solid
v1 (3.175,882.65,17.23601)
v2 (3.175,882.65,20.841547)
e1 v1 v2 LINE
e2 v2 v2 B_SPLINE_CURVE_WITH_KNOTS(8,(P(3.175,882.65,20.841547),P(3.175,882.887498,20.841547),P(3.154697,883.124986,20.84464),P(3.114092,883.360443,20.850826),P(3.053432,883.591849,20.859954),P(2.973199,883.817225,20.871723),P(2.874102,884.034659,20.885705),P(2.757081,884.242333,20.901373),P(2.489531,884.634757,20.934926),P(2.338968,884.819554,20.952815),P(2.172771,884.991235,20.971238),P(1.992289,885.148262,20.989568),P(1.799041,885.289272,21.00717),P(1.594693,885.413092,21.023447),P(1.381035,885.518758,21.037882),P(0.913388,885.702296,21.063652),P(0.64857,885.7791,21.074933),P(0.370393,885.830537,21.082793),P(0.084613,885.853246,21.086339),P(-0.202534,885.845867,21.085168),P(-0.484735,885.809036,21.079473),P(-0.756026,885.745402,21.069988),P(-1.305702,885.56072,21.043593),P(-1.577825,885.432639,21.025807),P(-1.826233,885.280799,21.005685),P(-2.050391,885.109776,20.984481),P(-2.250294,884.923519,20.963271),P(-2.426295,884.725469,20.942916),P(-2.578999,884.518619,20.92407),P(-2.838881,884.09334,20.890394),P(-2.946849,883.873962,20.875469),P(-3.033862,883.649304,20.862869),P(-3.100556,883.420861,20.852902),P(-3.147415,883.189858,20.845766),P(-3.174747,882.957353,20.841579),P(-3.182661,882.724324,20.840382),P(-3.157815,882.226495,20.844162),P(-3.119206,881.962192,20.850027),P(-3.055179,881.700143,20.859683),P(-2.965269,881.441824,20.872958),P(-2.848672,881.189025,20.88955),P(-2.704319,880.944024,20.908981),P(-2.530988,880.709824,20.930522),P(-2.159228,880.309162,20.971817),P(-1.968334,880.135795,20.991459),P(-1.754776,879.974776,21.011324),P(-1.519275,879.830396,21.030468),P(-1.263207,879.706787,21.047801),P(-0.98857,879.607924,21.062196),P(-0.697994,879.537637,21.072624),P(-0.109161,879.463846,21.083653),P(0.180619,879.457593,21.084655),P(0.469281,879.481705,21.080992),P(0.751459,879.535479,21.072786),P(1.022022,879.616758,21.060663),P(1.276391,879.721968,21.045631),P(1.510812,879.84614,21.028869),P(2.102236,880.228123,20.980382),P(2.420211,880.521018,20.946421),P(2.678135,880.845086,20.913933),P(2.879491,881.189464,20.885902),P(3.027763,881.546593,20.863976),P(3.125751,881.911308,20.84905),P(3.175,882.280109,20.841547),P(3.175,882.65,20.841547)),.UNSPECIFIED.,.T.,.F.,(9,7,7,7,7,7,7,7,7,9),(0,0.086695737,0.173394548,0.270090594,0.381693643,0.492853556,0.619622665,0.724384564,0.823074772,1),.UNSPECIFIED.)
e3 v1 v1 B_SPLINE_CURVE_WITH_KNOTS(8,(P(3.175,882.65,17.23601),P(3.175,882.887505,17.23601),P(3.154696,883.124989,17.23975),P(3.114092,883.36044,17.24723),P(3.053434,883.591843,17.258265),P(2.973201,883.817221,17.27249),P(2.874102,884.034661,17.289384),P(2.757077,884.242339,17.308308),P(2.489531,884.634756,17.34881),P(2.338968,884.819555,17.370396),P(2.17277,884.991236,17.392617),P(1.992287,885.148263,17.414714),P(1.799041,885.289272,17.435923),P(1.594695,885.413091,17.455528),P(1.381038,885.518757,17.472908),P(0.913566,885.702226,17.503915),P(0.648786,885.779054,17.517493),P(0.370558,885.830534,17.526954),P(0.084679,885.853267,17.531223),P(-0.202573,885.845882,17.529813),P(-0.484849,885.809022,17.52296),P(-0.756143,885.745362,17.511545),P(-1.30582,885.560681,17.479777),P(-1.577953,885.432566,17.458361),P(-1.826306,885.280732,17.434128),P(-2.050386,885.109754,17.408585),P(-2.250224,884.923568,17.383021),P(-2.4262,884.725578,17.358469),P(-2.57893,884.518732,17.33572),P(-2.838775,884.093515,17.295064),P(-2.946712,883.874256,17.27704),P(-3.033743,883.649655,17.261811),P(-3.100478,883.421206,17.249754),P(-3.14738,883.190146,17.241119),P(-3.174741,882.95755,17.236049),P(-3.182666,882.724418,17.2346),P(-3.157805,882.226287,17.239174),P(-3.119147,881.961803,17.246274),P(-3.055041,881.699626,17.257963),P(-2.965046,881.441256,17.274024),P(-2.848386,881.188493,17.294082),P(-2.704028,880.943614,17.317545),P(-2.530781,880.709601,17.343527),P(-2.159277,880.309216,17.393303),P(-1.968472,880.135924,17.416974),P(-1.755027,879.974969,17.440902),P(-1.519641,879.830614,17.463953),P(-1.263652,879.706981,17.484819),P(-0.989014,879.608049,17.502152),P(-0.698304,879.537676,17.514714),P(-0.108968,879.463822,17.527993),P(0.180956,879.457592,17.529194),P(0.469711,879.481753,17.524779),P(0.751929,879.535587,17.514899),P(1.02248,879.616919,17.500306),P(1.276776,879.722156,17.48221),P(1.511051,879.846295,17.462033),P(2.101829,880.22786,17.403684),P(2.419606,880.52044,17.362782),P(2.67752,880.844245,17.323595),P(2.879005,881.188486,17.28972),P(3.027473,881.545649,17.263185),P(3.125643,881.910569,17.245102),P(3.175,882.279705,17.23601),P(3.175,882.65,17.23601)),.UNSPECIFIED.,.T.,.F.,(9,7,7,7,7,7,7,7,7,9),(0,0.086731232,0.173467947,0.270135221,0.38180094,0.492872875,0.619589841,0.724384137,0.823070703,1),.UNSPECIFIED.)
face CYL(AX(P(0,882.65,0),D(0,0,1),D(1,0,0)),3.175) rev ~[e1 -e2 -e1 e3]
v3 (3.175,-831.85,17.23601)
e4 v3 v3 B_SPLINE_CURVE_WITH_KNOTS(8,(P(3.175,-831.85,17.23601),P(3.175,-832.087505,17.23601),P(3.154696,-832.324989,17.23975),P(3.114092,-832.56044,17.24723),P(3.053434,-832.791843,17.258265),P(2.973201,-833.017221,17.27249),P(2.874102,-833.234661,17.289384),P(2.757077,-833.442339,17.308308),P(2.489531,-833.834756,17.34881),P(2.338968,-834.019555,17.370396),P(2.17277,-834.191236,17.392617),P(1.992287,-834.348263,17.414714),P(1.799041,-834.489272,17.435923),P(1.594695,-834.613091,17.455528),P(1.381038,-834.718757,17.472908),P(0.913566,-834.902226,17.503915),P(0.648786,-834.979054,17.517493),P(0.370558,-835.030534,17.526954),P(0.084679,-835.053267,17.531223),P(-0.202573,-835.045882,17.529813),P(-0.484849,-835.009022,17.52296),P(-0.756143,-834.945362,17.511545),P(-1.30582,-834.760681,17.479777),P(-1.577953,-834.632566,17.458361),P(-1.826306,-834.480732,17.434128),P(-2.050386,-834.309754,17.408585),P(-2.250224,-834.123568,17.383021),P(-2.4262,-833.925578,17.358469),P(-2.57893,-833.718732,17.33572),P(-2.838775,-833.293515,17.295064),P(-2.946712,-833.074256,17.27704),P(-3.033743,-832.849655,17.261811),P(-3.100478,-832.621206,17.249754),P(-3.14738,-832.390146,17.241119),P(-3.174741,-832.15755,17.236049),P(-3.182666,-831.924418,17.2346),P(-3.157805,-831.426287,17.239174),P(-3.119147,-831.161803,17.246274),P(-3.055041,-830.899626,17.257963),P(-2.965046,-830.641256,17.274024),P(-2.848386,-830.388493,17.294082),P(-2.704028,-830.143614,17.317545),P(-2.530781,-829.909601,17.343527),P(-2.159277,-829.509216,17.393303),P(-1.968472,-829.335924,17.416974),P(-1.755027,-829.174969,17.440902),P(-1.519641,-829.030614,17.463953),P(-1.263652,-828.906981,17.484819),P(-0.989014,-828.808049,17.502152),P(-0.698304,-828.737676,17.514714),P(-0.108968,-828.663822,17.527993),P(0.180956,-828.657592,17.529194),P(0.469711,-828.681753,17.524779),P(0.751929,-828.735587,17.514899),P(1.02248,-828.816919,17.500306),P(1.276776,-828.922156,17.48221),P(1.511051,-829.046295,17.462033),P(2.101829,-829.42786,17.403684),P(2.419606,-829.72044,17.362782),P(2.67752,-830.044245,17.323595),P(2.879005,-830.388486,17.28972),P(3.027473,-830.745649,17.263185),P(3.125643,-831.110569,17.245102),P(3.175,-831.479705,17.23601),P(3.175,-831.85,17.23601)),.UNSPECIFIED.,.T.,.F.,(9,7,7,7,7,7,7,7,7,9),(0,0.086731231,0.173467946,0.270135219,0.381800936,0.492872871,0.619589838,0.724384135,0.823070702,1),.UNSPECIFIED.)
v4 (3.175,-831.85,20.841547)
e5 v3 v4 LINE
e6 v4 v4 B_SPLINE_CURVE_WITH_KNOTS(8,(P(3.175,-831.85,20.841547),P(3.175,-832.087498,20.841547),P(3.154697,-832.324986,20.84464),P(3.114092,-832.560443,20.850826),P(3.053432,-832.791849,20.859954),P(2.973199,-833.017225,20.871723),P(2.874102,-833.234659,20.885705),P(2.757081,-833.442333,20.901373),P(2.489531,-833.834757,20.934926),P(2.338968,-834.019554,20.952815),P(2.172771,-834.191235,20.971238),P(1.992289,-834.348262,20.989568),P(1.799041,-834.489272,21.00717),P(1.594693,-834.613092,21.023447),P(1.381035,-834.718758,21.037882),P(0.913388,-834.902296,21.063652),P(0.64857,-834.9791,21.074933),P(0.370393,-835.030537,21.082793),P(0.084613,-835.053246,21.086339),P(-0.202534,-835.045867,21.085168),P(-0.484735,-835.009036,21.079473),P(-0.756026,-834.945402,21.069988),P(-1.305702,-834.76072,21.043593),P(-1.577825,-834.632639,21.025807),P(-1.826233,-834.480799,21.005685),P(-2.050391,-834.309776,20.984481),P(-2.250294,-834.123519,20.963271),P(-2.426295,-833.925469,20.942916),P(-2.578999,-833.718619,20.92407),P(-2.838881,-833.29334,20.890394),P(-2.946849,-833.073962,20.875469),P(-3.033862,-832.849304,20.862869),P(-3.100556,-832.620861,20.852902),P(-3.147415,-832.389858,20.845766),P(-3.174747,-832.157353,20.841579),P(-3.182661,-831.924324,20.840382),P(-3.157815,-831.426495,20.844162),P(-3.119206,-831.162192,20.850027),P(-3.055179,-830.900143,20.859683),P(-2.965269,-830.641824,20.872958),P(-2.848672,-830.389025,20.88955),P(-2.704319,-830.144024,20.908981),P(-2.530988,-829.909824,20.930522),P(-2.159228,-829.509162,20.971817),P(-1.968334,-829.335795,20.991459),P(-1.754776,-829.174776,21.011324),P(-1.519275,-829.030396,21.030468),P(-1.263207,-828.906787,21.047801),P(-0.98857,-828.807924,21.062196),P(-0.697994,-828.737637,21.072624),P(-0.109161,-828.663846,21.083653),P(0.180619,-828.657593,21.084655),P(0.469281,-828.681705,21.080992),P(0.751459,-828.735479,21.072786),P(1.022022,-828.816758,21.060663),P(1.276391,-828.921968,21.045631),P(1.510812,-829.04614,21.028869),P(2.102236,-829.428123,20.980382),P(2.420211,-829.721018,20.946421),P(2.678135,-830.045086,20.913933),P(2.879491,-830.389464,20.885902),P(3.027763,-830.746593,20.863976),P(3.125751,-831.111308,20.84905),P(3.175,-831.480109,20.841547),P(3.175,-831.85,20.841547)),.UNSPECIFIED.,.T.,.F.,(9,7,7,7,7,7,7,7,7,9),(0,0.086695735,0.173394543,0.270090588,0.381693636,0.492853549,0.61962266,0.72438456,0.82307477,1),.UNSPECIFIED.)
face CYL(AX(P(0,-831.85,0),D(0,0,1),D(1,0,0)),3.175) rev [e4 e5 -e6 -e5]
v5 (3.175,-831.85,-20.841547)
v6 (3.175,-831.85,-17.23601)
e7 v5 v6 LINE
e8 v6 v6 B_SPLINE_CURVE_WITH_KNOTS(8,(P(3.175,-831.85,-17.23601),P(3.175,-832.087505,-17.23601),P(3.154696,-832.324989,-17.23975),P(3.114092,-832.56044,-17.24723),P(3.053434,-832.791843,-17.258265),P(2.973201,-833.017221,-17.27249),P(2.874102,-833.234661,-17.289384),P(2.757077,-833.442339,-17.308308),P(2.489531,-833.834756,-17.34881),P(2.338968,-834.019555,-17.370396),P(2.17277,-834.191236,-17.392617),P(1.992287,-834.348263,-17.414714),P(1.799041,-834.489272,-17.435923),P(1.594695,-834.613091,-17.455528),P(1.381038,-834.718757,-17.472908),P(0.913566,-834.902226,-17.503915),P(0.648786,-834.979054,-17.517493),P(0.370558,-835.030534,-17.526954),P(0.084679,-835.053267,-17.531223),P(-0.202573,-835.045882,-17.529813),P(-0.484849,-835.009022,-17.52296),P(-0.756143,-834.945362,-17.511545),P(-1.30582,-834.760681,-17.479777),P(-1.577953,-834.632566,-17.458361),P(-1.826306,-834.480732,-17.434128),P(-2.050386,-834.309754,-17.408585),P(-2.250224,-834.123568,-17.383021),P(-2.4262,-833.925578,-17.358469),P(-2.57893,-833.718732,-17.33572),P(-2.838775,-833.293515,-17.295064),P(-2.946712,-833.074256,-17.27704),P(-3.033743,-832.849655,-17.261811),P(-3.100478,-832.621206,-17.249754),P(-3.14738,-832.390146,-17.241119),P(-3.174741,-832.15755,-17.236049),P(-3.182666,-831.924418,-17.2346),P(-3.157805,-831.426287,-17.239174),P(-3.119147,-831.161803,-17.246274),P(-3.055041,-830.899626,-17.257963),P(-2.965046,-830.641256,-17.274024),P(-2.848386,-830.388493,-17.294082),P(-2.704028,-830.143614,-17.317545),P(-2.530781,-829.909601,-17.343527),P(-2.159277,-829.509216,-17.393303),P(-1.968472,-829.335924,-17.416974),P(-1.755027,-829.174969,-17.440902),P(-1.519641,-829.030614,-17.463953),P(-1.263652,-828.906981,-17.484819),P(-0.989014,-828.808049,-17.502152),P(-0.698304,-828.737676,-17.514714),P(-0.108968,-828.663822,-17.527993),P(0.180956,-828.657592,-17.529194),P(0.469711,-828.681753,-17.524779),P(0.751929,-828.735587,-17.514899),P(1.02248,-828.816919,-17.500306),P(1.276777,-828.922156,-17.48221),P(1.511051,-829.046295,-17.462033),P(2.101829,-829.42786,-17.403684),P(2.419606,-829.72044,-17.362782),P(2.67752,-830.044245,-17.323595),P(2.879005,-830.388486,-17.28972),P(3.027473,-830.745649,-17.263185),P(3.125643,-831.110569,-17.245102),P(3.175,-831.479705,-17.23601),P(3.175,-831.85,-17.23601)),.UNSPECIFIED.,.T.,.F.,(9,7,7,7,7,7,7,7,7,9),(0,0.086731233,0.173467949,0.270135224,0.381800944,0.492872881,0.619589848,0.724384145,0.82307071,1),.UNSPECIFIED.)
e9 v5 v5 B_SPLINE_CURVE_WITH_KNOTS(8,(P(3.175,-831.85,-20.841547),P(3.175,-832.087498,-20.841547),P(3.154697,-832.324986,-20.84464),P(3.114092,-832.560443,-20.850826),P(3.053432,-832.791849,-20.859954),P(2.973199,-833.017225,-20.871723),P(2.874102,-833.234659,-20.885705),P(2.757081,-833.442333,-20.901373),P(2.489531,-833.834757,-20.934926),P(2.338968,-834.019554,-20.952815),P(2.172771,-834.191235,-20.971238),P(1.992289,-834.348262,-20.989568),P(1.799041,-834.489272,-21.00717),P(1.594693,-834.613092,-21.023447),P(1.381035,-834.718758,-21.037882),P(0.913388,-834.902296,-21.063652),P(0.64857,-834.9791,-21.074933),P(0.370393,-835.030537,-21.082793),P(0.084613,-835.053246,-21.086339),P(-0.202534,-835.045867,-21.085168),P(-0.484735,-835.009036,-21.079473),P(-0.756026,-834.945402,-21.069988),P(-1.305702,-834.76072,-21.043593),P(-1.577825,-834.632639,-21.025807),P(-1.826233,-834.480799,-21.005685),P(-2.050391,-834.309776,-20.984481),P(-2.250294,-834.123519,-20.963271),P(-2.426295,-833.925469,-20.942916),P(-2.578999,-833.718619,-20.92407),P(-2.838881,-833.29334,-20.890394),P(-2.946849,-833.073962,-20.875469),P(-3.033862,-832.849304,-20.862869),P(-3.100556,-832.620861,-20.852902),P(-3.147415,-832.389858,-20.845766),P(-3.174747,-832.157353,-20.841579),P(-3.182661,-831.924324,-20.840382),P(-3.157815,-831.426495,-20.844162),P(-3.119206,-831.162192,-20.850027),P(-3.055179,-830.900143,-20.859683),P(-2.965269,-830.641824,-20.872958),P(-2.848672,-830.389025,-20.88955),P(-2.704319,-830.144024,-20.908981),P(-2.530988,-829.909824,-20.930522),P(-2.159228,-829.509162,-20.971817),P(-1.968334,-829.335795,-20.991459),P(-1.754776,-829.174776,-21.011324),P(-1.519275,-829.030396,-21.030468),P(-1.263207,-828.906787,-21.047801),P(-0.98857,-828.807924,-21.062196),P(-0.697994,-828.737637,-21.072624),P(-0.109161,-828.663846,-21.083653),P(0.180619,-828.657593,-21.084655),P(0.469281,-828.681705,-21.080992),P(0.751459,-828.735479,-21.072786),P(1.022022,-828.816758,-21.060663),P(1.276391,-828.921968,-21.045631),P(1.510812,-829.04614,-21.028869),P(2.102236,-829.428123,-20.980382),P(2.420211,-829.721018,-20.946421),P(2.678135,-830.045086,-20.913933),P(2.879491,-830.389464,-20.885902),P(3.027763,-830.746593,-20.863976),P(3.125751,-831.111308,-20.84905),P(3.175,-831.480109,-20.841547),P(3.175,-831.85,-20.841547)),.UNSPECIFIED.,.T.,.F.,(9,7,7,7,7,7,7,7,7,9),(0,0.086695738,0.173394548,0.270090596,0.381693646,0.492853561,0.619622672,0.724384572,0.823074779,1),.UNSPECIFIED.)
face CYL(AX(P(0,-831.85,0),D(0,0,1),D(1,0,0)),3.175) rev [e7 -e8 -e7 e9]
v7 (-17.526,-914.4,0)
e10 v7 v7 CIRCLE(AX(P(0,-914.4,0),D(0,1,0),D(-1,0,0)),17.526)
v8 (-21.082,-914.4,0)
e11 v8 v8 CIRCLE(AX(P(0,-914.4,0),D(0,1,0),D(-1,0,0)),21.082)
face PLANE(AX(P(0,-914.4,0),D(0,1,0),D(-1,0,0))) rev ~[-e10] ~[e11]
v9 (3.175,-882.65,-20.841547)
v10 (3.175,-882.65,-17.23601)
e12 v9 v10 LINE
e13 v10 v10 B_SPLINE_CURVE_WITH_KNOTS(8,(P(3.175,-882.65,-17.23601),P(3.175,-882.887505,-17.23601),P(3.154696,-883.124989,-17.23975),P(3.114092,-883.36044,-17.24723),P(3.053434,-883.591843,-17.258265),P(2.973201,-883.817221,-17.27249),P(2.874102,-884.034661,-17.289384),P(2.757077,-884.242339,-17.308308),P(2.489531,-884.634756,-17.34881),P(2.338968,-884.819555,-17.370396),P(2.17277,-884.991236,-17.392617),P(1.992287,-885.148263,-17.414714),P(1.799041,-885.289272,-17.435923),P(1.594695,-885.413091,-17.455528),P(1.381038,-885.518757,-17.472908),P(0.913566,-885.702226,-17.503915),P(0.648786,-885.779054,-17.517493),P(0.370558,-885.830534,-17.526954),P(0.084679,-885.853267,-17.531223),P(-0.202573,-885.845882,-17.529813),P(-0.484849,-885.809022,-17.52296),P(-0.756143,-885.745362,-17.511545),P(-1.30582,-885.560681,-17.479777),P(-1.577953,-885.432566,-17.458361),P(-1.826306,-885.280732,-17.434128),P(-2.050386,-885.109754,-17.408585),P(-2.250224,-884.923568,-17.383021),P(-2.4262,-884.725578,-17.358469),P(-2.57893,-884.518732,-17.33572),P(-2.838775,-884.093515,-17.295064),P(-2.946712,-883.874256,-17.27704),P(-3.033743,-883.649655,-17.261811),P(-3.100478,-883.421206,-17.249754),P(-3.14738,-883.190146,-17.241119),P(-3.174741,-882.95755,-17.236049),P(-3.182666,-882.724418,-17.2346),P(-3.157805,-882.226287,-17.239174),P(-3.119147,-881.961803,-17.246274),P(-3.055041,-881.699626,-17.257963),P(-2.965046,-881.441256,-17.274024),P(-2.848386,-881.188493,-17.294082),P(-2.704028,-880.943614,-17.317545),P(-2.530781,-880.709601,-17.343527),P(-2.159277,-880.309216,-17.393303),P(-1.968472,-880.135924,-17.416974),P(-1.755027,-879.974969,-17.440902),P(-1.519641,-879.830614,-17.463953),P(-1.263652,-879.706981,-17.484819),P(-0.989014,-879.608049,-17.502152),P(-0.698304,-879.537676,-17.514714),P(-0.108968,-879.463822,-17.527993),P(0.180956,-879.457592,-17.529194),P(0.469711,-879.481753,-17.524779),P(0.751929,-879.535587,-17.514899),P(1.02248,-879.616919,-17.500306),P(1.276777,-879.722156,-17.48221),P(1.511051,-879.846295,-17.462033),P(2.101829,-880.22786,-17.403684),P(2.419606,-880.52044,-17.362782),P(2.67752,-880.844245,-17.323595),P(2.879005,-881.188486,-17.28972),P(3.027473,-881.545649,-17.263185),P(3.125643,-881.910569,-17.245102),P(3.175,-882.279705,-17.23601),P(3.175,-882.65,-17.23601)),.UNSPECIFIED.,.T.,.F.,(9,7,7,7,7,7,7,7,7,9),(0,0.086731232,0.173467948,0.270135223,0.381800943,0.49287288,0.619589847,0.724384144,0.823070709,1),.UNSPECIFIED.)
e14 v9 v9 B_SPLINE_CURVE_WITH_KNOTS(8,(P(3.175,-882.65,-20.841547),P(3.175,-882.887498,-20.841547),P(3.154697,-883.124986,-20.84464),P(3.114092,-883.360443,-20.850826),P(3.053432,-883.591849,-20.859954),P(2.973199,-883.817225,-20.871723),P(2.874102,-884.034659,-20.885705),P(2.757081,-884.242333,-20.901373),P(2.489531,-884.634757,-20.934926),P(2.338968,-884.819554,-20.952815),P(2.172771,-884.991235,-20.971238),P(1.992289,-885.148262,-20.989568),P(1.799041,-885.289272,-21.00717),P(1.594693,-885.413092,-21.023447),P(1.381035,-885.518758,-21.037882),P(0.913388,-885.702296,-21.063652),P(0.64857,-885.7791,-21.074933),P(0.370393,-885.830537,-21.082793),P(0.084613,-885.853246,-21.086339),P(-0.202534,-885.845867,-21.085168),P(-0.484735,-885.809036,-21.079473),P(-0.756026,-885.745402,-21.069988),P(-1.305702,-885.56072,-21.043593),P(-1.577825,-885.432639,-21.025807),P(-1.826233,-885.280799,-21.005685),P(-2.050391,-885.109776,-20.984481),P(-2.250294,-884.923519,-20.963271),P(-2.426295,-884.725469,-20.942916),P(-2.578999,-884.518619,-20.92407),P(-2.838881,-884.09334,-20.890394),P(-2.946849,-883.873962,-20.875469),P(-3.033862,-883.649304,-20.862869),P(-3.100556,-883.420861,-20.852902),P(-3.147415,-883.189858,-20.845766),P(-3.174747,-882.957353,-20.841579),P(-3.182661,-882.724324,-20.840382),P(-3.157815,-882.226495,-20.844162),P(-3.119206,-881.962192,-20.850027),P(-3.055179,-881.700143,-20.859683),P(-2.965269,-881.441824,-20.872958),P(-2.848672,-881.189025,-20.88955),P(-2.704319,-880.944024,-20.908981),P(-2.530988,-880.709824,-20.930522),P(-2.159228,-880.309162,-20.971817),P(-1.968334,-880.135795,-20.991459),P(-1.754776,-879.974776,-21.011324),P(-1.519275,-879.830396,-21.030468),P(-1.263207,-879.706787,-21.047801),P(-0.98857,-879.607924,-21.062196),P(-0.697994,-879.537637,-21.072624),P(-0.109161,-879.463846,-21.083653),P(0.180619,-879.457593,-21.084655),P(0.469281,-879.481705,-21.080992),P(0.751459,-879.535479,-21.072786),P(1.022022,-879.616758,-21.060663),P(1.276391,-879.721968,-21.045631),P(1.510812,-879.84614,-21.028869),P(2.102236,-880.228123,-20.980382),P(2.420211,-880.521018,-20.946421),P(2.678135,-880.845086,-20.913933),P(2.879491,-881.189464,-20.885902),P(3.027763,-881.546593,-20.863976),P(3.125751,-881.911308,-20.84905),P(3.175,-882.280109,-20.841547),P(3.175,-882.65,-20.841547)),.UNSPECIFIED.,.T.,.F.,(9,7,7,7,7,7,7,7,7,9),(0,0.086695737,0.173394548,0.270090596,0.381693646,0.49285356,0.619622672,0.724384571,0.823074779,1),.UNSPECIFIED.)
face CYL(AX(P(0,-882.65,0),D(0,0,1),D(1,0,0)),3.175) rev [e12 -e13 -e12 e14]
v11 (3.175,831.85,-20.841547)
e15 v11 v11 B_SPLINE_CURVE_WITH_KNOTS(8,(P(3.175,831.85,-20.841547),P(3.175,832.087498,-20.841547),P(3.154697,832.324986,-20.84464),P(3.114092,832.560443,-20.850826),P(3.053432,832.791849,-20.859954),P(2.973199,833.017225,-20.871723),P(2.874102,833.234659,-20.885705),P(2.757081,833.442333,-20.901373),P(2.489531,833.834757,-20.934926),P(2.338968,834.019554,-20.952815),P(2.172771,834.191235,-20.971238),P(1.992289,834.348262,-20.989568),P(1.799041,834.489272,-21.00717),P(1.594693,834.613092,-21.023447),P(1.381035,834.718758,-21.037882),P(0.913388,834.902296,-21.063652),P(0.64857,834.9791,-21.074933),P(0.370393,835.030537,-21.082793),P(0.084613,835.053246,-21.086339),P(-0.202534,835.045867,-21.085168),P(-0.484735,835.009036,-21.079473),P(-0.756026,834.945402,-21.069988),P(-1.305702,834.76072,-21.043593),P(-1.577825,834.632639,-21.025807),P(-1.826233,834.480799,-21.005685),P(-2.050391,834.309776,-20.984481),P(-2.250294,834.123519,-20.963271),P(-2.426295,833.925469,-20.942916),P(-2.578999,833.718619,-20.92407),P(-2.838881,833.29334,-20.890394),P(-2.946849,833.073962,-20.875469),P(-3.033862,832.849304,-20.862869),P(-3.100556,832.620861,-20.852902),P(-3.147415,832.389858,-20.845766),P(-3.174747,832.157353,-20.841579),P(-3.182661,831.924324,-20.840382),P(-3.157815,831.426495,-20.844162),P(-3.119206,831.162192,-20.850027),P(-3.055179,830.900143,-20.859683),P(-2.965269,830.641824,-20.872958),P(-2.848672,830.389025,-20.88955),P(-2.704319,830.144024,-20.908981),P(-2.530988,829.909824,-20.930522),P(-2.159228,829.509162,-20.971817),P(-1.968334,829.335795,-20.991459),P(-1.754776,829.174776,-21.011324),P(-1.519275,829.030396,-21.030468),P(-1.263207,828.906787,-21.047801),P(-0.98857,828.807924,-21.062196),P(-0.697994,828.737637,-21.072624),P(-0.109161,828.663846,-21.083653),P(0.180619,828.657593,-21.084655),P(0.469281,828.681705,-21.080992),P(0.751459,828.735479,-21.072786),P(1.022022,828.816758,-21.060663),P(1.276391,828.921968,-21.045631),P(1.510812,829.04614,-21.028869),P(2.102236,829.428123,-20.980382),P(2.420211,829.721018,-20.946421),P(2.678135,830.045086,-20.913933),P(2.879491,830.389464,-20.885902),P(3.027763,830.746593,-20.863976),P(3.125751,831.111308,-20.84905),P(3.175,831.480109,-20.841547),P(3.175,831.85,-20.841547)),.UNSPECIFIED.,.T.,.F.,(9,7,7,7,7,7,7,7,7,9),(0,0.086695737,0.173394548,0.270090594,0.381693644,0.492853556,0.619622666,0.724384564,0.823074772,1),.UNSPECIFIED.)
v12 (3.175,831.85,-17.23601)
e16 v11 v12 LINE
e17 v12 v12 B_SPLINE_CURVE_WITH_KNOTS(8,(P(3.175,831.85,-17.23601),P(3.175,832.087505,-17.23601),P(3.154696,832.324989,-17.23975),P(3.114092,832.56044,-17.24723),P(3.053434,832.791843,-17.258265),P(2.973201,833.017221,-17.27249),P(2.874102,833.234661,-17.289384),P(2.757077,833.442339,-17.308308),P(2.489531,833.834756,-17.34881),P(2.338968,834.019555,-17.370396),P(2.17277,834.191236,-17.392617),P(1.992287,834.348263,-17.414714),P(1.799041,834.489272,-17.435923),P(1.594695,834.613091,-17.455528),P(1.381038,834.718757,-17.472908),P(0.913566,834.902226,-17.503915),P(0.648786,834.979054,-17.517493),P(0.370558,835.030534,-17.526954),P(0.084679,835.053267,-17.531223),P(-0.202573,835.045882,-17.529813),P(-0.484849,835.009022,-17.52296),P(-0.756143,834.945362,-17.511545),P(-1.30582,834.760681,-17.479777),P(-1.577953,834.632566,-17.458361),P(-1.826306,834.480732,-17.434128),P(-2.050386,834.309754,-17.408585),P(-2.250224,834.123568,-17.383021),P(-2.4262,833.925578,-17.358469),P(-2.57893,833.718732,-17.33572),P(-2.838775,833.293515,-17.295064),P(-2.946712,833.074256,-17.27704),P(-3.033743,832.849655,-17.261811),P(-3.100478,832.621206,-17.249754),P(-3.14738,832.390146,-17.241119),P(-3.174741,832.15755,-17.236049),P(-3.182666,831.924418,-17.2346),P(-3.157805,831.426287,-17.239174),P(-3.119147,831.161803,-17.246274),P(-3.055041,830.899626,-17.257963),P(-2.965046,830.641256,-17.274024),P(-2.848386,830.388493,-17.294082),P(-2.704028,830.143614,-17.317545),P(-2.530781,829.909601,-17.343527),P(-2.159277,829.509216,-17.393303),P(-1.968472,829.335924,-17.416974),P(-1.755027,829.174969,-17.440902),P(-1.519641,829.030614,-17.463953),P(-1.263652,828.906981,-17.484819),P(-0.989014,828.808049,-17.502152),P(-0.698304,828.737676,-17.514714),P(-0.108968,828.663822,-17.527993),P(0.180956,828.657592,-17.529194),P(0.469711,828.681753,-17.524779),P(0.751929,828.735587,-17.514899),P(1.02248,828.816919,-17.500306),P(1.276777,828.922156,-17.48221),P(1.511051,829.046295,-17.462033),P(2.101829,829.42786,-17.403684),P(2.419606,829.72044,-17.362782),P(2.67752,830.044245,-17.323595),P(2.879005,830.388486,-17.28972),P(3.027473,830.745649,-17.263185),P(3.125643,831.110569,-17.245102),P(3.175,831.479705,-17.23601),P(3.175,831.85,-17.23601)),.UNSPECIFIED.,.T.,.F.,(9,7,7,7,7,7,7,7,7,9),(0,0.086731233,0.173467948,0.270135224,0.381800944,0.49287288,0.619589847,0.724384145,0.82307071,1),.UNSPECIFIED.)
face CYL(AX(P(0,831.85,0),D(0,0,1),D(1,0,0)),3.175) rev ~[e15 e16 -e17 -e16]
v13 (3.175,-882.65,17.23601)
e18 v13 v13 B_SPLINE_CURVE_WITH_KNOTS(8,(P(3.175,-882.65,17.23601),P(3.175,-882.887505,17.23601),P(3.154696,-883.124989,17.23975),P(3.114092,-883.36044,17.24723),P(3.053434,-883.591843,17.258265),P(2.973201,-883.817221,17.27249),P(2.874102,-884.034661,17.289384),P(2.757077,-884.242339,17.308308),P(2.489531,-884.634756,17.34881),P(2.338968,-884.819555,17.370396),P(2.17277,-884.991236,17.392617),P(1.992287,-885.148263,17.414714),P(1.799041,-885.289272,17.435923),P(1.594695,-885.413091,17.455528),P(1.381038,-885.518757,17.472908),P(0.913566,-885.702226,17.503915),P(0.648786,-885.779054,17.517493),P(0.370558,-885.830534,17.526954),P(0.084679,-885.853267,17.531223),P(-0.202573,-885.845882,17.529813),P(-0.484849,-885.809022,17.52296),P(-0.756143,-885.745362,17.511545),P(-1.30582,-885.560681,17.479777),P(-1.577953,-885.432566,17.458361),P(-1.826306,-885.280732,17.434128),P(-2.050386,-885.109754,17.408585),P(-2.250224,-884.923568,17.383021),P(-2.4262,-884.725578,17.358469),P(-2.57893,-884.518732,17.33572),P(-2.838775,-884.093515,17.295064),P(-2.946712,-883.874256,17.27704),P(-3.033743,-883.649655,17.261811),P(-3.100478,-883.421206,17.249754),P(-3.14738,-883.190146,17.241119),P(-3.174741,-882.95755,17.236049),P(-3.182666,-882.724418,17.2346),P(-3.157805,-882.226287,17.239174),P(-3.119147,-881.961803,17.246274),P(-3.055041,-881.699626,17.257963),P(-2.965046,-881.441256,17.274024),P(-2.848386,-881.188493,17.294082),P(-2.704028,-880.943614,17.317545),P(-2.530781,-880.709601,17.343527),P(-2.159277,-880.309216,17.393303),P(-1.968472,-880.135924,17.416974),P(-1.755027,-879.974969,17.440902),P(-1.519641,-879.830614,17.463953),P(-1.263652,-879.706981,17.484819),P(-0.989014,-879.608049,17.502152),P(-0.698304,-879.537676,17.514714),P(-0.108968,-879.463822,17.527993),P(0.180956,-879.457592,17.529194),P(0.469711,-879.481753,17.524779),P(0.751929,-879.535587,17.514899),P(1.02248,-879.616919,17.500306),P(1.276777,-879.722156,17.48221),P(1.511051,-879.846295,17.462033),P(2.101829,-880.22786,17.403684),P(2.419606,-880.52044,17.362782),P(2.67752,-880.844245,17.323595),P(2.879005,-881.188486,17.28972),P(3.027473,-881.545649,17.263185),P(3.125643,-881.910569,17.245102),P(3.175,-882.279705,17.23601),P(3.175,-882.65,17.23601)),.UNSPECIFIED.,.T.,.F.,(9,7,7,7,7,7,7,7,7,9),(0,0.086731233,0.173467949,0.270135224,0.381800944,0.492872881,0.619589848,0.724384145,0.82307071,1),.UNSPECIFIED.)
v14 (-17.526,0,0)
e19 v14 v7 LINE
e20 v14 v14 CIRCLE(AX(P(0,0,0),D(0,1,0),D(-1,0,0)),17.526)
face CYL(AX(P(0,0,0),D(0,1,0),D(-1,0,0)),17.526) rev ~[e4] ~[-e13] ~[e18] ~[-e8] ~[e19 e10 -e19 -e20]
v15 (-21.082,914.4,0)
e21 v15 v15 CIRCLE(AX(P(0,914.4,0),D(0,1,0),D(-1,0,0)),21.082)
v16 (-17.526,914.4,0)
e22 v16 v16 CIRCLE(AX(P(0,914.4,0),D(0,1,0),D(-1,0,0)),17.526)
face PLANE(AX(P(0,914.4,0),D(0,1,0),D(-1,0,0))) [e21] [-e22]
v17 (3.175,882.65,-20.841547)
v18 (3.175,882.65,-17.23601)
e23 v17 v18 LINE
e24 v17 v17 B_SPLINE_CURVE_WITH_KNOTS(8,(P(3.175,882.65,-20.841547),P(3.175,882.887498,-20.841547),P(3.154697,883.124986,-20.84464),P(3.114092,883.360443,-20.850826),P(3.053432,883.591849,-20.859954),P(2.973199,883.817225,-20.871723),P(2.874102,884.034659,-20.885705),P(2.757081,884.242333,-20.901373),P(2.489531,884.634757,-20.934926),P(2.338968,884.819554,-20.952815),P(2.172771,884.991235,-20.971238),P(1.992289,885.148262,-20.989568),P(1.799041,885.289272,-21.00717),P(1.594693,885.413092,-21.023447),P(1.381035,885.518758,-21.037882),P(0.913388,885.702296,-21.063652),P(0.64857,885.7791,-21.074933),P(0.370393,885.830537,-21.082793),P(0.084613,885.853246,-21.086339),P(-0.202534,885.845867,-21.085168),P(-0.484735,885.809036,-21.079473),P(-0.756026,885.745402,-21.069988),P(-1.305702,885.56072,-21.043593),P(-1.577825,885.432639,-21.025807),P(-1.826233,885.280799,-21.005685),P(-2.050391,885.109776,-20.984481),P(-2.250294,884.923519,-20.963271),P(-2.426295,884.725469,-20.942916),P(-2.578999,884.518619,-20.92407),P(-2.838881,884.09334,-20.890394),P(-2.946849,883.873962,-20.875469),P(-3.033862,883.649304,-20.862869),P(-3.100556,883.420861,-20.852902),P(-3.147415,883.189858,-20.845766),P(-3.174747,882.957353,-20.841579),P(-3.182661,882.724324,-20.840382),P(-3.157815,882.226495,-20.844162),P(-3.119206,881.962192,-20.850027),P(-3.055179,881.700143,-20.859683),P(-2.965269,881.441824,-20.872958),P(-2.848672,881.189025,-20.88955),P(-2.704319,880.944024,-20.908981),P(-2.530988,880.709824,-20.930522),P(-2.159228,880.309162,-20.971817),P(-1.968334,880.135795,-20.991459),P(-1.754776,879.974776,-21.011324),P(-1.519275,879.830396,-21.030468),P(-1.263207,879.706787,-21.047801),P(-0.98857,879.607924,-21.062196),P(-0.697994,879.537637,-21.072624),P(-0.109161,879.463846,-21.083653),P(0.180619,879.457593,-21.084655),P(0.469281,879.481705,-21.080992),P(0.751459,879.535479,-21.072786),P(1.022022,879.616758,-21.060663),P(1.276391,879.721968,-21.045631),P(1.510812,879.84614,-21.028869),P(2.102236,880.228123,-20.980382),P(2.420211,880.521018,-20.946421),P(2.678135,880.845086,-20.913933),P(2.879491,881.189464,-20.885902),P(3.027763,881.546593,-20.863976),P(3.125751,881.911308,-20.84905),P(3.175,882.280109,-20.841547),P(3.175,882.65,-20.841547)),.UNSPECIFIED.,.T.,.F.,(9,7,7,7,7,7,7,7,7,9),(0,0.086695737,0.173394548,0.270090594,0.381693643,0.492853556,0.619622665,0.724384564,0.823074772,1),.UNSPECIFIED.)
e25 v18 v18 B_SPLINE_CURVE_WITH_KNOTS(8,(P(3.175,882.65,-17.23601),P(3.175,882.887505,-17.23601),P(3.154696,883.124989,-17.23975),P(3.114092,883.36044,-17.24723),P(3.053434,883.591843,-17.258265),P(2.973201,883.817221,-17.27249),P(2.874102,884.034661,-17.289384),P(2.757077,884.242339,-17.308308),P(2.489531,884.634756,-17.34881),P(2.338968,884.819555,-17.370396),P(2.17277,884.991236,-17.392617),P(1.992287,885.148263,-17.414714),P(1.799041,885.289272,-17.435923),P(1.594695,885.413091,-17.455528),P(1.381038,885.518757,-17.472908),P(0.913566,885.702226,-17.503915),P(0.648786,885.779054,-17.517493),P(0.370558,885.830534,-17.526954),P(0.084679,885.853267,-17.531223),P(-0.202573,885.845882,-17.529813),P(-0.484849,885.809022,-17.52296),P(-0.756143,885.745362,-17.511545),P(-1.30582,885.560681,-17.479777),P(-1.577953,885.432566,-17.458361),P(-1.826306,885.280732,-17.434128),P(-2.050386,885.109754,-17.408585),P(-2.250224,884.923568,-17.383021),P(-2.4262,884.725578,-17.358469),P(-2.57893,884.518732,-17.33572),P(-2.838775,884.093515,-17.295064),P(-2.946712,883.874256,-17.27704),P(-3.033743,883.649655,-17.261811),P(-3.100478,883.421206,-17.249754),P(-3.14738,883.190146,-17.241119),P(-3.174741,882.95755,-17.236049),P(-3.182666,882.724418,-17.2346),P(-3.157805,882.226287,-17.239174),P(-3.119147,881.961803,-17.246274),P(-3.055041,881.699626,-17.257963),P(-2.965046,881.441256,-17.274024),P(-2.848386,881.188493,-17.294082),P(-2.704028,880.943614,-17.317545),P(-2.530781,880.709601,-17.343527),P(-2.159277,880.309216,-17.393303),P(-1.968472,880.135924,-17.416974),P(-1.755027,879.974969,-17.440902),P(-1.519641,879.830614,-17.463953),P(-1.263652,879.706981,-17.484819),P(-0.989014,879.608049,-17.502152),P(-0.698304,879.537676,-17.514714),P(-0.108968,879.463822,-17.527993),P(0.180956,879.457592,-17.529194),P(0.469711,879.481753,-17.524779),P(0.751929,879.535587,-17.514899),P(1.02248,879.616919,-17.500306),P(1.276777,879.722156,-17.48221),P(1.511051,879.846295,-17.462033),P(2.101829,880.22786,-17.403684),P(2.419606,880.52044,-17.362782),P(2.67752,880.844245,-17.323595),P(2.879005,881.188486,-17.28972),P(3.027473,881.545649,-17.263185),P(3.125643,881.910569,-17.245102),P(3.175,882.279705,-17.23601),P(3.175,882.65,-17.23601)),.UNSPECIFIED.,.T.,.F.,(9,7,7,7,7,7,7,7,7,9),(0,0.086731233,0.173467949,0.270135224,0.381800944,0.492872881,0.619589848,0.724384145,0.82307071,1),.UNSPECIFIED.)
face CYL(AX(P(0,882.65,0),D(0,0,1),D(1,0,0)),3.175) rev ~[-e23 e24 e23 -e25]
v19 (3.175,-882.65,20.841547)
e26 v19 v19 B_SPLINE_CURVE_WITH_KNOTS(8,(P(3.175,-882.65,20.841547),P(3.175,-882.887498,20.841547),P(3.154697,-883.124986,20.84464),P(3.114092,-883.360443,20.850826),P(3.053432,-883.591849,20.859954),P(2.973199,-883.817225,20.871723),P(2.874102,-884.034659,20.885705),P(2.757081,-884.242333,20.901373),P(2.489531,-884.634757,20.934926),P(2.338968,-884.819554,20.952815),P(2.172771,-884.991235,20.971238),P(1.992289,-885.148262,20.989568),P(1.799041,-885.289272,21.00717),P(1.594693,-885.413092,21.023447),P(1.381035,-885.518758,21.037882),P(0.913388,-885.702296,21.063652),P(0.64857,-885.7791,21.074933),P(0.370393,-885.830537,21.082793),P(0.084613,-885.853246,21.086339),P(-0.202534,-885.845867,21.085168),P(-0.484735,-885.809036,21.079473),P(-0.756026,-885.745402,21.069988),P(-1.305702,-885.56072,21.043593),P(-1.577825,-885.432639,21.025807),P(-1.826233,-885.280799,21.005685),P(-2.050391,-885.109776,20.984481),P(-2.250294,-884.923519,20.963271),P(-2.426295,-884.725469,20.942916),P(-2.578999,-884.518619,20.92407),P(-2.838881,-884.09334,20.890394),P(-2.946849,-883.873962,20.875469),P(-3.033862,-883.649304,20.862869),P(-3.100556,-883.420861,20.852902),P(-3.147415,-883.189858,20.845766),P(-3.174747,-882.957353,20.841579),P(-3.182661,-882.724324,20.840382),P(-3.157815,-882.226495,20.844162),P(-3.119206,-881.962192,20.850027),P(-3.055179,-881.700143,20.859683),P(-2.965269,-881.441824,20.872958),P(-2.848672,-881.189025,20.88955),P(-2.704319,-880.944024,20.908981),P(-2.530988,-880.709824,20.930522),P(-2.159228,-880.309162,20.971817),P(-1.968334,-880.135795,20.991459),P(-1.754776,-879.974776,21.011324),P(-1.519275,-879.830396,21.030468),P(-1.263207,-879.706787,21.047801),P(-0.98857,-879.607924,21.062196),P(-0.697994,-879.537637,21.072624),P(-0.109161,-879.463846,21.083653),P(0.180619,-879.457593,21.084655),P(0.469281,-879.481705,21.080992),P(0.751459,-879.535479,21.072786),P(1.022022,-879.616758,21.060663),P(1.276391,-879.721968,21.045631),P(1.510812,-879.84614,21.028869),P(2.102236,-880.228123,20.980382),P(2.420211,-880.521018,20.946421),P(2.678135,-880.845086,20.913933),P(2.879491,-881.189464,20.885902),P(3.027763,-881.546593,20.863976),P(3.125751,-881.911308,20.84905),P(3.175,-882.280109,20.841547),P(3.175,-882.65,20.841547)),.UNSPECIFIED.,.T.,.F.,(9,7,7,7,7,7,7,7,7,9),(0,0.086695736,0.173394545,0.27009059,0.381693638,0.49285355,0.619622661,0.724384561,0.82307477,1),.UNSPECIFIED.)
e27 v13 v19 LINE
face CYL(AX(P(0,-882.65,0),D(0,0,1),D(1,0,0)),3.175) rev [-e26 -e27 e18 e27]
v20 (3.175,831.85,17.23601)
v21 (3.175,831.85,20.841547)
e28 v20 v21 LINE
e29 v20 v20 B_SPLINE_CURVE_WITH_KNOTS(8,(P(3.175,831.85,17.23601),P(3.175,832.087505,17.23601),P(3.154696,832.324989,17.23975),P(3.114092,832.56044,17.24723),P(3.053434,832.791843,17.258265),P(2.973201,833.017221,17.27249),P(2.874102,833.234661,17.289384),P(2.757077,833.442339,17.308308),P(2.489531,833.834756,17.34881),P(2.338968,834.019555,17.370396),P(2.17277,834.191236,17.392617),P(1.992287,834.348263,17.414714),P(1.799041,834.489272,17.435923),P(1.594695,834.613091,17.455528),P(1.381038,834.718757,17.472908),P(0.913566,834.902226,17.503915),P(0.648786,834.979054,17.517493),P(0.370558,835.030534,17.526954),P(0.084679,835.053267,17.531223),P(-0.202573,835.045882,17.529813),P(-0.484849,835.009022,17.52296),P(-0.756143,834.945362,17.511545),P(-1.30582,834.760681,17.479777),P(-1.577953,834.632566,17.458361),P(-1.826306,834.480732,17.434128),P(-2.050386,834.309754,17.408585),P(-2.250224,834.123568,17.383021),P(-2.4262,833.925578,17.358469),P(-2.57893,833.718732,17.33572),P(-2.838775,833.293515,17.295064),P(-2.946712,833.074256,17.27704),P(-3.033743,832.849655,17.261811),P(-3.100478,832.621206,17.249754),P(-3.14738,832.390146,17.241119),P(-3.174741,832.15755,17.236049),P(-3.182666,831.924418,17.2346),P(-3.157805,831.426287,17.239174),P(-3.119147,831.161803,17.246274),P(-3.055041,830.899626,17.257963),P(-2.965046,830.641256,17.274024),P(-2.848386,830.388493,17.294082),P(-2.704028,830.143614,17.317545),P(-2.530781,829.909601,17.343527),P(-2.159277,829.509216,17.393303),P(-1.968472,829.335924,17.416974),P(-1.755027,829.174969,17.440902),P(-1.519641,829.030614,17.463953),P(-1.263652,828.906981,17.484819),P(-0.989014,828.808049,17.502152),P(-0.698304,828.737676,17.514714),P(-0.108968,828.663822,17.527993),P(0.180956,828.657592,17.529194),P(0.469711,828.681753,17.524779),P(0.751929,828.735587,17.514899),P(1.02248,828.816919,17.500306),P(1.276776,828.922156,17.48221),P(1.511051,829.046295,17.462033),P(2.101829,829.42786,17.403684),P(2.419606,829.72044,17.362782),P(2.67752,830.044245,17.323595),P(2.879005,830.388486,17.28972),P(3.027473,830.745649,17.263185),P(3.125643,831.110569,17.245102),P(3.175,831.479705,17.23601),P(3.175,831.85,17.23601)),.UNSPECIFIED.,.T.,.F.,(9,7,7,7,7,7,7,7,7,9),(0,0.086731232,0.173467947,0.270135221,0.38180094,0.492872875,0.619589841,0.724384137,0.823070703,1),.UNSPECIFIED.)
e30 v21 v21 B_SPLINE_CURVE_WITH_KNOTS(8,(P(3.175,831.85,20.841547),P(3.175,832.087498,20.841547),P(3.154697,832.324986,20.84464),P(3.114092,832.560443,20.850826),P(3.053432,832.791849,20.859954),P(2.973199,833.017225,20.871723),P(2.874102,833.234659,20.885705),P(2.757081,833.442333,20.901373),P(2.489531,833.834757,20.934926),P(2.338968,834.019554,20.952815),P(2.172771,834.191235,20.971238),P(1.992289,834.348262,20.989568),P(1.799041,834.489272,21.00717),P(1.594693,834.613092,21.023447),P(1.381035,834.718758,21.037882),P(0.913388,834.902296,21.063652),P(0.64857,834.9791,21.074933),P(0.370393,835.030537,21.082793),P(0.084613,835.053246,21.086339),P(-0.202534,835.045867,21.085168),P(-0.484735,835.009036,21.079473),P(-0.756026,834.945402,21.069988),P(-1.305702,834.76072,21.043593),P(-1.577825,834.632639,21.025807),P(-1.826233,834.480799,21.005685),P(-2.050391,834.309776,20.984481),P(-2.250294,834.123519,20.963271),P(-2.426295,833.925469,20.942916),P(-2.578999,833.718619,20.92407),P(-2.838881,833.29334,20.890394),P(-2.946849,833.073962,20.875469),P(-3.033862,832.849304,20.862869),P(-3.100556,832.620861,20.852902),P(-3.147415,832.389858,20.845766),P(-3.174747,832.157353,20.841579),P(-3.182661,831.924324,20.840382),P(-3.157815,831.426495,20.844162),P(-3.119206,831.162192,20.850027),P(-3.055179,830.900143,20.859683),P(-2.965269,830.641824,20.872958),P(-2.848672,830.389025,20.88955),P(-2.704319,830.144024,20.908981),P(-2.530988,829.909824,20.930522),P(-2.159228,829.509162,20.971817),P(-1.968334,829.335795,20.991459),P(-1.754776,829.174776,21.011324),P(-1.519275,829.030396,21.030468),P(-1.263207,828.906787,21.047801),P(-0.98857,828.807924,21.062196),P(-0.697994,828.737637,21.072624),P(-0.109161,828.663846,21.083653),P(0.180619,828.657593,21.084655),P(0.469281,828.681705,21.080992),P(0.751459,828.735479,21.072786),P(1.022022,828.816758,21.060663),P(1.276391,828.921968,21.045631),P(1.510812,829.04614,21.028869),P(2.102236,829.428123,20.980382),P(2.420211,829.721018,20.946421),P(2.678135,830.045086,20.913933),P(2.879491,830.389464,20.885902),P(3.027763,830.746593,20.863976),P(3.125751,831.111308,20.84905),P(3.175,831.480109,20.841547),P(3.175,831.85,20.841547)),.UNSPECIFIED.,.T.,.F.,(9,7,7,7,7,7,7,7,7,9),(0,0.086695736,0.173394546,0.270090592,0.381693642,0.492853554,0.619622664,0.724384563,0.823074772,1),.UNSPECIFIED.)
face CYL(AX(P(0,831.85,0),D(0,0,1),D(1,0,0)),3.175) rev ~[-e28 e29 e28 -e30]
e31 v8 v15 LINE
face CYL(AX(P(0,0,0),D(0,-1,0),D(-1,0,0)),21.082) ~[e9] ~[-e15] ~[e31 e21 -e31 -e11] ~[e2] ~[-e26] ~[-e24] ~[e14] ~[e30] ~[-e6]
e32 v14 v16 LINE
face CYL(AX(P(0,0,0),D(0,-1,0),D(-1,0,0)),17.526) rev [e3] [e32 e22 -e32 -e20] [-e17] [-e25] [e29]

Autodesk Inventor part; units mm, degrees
ref_plane "YZ Plane" through (0, 0, 0) normal (1, 0, 0) x (0, 1, 0)
ref_plane "XZ Plane" through (0, 0, 0) normal (0, 1, 0) x (-1, 0, 0)
ref_plane "XY Plane" through (0, 0, 0) normal (0, 0, 1) x (1, 0, 0)
sketch "Sketch1" plane through (0, 0, 0) normal (0, 1, 0) x (-1, 0, 0)
  circle A0 centre (0, 0) radius 21.082
  circle A1 centre (0, 0) radius 17.526
  dimension "d0" = 42.164
  dimension "d1" = 35.052
extrude "Extrusion1" add sketch "Sketch1" along normal mid plane 1828.8
sketch "Sketch3" plane through (0, 0, 0) normal (0, 0, 1) x (1, 0, 0)
  circle A0 centre (0, 882.65) radius 3.175
  circle A1 centre (0, 831.85) radius 3.175
  line L0 (21.082, 914.4) -> (-21.082, 914.4) projected
  point P0 (0, 0)
  dimension "d10" = 31.75
  dimension "d11" = 82.55
  dimension "d12" = 6.35
extrude "Extrusion3" cut sketch "Sketch3" against normal through all both and the other way through all
mirror "Mirror1" about plane through (0, 0, 0) normal (0, 1, 0) of "Extrusion3"
properties part number "FE-110-003 Top Bar" material "Aluminum 6061"
